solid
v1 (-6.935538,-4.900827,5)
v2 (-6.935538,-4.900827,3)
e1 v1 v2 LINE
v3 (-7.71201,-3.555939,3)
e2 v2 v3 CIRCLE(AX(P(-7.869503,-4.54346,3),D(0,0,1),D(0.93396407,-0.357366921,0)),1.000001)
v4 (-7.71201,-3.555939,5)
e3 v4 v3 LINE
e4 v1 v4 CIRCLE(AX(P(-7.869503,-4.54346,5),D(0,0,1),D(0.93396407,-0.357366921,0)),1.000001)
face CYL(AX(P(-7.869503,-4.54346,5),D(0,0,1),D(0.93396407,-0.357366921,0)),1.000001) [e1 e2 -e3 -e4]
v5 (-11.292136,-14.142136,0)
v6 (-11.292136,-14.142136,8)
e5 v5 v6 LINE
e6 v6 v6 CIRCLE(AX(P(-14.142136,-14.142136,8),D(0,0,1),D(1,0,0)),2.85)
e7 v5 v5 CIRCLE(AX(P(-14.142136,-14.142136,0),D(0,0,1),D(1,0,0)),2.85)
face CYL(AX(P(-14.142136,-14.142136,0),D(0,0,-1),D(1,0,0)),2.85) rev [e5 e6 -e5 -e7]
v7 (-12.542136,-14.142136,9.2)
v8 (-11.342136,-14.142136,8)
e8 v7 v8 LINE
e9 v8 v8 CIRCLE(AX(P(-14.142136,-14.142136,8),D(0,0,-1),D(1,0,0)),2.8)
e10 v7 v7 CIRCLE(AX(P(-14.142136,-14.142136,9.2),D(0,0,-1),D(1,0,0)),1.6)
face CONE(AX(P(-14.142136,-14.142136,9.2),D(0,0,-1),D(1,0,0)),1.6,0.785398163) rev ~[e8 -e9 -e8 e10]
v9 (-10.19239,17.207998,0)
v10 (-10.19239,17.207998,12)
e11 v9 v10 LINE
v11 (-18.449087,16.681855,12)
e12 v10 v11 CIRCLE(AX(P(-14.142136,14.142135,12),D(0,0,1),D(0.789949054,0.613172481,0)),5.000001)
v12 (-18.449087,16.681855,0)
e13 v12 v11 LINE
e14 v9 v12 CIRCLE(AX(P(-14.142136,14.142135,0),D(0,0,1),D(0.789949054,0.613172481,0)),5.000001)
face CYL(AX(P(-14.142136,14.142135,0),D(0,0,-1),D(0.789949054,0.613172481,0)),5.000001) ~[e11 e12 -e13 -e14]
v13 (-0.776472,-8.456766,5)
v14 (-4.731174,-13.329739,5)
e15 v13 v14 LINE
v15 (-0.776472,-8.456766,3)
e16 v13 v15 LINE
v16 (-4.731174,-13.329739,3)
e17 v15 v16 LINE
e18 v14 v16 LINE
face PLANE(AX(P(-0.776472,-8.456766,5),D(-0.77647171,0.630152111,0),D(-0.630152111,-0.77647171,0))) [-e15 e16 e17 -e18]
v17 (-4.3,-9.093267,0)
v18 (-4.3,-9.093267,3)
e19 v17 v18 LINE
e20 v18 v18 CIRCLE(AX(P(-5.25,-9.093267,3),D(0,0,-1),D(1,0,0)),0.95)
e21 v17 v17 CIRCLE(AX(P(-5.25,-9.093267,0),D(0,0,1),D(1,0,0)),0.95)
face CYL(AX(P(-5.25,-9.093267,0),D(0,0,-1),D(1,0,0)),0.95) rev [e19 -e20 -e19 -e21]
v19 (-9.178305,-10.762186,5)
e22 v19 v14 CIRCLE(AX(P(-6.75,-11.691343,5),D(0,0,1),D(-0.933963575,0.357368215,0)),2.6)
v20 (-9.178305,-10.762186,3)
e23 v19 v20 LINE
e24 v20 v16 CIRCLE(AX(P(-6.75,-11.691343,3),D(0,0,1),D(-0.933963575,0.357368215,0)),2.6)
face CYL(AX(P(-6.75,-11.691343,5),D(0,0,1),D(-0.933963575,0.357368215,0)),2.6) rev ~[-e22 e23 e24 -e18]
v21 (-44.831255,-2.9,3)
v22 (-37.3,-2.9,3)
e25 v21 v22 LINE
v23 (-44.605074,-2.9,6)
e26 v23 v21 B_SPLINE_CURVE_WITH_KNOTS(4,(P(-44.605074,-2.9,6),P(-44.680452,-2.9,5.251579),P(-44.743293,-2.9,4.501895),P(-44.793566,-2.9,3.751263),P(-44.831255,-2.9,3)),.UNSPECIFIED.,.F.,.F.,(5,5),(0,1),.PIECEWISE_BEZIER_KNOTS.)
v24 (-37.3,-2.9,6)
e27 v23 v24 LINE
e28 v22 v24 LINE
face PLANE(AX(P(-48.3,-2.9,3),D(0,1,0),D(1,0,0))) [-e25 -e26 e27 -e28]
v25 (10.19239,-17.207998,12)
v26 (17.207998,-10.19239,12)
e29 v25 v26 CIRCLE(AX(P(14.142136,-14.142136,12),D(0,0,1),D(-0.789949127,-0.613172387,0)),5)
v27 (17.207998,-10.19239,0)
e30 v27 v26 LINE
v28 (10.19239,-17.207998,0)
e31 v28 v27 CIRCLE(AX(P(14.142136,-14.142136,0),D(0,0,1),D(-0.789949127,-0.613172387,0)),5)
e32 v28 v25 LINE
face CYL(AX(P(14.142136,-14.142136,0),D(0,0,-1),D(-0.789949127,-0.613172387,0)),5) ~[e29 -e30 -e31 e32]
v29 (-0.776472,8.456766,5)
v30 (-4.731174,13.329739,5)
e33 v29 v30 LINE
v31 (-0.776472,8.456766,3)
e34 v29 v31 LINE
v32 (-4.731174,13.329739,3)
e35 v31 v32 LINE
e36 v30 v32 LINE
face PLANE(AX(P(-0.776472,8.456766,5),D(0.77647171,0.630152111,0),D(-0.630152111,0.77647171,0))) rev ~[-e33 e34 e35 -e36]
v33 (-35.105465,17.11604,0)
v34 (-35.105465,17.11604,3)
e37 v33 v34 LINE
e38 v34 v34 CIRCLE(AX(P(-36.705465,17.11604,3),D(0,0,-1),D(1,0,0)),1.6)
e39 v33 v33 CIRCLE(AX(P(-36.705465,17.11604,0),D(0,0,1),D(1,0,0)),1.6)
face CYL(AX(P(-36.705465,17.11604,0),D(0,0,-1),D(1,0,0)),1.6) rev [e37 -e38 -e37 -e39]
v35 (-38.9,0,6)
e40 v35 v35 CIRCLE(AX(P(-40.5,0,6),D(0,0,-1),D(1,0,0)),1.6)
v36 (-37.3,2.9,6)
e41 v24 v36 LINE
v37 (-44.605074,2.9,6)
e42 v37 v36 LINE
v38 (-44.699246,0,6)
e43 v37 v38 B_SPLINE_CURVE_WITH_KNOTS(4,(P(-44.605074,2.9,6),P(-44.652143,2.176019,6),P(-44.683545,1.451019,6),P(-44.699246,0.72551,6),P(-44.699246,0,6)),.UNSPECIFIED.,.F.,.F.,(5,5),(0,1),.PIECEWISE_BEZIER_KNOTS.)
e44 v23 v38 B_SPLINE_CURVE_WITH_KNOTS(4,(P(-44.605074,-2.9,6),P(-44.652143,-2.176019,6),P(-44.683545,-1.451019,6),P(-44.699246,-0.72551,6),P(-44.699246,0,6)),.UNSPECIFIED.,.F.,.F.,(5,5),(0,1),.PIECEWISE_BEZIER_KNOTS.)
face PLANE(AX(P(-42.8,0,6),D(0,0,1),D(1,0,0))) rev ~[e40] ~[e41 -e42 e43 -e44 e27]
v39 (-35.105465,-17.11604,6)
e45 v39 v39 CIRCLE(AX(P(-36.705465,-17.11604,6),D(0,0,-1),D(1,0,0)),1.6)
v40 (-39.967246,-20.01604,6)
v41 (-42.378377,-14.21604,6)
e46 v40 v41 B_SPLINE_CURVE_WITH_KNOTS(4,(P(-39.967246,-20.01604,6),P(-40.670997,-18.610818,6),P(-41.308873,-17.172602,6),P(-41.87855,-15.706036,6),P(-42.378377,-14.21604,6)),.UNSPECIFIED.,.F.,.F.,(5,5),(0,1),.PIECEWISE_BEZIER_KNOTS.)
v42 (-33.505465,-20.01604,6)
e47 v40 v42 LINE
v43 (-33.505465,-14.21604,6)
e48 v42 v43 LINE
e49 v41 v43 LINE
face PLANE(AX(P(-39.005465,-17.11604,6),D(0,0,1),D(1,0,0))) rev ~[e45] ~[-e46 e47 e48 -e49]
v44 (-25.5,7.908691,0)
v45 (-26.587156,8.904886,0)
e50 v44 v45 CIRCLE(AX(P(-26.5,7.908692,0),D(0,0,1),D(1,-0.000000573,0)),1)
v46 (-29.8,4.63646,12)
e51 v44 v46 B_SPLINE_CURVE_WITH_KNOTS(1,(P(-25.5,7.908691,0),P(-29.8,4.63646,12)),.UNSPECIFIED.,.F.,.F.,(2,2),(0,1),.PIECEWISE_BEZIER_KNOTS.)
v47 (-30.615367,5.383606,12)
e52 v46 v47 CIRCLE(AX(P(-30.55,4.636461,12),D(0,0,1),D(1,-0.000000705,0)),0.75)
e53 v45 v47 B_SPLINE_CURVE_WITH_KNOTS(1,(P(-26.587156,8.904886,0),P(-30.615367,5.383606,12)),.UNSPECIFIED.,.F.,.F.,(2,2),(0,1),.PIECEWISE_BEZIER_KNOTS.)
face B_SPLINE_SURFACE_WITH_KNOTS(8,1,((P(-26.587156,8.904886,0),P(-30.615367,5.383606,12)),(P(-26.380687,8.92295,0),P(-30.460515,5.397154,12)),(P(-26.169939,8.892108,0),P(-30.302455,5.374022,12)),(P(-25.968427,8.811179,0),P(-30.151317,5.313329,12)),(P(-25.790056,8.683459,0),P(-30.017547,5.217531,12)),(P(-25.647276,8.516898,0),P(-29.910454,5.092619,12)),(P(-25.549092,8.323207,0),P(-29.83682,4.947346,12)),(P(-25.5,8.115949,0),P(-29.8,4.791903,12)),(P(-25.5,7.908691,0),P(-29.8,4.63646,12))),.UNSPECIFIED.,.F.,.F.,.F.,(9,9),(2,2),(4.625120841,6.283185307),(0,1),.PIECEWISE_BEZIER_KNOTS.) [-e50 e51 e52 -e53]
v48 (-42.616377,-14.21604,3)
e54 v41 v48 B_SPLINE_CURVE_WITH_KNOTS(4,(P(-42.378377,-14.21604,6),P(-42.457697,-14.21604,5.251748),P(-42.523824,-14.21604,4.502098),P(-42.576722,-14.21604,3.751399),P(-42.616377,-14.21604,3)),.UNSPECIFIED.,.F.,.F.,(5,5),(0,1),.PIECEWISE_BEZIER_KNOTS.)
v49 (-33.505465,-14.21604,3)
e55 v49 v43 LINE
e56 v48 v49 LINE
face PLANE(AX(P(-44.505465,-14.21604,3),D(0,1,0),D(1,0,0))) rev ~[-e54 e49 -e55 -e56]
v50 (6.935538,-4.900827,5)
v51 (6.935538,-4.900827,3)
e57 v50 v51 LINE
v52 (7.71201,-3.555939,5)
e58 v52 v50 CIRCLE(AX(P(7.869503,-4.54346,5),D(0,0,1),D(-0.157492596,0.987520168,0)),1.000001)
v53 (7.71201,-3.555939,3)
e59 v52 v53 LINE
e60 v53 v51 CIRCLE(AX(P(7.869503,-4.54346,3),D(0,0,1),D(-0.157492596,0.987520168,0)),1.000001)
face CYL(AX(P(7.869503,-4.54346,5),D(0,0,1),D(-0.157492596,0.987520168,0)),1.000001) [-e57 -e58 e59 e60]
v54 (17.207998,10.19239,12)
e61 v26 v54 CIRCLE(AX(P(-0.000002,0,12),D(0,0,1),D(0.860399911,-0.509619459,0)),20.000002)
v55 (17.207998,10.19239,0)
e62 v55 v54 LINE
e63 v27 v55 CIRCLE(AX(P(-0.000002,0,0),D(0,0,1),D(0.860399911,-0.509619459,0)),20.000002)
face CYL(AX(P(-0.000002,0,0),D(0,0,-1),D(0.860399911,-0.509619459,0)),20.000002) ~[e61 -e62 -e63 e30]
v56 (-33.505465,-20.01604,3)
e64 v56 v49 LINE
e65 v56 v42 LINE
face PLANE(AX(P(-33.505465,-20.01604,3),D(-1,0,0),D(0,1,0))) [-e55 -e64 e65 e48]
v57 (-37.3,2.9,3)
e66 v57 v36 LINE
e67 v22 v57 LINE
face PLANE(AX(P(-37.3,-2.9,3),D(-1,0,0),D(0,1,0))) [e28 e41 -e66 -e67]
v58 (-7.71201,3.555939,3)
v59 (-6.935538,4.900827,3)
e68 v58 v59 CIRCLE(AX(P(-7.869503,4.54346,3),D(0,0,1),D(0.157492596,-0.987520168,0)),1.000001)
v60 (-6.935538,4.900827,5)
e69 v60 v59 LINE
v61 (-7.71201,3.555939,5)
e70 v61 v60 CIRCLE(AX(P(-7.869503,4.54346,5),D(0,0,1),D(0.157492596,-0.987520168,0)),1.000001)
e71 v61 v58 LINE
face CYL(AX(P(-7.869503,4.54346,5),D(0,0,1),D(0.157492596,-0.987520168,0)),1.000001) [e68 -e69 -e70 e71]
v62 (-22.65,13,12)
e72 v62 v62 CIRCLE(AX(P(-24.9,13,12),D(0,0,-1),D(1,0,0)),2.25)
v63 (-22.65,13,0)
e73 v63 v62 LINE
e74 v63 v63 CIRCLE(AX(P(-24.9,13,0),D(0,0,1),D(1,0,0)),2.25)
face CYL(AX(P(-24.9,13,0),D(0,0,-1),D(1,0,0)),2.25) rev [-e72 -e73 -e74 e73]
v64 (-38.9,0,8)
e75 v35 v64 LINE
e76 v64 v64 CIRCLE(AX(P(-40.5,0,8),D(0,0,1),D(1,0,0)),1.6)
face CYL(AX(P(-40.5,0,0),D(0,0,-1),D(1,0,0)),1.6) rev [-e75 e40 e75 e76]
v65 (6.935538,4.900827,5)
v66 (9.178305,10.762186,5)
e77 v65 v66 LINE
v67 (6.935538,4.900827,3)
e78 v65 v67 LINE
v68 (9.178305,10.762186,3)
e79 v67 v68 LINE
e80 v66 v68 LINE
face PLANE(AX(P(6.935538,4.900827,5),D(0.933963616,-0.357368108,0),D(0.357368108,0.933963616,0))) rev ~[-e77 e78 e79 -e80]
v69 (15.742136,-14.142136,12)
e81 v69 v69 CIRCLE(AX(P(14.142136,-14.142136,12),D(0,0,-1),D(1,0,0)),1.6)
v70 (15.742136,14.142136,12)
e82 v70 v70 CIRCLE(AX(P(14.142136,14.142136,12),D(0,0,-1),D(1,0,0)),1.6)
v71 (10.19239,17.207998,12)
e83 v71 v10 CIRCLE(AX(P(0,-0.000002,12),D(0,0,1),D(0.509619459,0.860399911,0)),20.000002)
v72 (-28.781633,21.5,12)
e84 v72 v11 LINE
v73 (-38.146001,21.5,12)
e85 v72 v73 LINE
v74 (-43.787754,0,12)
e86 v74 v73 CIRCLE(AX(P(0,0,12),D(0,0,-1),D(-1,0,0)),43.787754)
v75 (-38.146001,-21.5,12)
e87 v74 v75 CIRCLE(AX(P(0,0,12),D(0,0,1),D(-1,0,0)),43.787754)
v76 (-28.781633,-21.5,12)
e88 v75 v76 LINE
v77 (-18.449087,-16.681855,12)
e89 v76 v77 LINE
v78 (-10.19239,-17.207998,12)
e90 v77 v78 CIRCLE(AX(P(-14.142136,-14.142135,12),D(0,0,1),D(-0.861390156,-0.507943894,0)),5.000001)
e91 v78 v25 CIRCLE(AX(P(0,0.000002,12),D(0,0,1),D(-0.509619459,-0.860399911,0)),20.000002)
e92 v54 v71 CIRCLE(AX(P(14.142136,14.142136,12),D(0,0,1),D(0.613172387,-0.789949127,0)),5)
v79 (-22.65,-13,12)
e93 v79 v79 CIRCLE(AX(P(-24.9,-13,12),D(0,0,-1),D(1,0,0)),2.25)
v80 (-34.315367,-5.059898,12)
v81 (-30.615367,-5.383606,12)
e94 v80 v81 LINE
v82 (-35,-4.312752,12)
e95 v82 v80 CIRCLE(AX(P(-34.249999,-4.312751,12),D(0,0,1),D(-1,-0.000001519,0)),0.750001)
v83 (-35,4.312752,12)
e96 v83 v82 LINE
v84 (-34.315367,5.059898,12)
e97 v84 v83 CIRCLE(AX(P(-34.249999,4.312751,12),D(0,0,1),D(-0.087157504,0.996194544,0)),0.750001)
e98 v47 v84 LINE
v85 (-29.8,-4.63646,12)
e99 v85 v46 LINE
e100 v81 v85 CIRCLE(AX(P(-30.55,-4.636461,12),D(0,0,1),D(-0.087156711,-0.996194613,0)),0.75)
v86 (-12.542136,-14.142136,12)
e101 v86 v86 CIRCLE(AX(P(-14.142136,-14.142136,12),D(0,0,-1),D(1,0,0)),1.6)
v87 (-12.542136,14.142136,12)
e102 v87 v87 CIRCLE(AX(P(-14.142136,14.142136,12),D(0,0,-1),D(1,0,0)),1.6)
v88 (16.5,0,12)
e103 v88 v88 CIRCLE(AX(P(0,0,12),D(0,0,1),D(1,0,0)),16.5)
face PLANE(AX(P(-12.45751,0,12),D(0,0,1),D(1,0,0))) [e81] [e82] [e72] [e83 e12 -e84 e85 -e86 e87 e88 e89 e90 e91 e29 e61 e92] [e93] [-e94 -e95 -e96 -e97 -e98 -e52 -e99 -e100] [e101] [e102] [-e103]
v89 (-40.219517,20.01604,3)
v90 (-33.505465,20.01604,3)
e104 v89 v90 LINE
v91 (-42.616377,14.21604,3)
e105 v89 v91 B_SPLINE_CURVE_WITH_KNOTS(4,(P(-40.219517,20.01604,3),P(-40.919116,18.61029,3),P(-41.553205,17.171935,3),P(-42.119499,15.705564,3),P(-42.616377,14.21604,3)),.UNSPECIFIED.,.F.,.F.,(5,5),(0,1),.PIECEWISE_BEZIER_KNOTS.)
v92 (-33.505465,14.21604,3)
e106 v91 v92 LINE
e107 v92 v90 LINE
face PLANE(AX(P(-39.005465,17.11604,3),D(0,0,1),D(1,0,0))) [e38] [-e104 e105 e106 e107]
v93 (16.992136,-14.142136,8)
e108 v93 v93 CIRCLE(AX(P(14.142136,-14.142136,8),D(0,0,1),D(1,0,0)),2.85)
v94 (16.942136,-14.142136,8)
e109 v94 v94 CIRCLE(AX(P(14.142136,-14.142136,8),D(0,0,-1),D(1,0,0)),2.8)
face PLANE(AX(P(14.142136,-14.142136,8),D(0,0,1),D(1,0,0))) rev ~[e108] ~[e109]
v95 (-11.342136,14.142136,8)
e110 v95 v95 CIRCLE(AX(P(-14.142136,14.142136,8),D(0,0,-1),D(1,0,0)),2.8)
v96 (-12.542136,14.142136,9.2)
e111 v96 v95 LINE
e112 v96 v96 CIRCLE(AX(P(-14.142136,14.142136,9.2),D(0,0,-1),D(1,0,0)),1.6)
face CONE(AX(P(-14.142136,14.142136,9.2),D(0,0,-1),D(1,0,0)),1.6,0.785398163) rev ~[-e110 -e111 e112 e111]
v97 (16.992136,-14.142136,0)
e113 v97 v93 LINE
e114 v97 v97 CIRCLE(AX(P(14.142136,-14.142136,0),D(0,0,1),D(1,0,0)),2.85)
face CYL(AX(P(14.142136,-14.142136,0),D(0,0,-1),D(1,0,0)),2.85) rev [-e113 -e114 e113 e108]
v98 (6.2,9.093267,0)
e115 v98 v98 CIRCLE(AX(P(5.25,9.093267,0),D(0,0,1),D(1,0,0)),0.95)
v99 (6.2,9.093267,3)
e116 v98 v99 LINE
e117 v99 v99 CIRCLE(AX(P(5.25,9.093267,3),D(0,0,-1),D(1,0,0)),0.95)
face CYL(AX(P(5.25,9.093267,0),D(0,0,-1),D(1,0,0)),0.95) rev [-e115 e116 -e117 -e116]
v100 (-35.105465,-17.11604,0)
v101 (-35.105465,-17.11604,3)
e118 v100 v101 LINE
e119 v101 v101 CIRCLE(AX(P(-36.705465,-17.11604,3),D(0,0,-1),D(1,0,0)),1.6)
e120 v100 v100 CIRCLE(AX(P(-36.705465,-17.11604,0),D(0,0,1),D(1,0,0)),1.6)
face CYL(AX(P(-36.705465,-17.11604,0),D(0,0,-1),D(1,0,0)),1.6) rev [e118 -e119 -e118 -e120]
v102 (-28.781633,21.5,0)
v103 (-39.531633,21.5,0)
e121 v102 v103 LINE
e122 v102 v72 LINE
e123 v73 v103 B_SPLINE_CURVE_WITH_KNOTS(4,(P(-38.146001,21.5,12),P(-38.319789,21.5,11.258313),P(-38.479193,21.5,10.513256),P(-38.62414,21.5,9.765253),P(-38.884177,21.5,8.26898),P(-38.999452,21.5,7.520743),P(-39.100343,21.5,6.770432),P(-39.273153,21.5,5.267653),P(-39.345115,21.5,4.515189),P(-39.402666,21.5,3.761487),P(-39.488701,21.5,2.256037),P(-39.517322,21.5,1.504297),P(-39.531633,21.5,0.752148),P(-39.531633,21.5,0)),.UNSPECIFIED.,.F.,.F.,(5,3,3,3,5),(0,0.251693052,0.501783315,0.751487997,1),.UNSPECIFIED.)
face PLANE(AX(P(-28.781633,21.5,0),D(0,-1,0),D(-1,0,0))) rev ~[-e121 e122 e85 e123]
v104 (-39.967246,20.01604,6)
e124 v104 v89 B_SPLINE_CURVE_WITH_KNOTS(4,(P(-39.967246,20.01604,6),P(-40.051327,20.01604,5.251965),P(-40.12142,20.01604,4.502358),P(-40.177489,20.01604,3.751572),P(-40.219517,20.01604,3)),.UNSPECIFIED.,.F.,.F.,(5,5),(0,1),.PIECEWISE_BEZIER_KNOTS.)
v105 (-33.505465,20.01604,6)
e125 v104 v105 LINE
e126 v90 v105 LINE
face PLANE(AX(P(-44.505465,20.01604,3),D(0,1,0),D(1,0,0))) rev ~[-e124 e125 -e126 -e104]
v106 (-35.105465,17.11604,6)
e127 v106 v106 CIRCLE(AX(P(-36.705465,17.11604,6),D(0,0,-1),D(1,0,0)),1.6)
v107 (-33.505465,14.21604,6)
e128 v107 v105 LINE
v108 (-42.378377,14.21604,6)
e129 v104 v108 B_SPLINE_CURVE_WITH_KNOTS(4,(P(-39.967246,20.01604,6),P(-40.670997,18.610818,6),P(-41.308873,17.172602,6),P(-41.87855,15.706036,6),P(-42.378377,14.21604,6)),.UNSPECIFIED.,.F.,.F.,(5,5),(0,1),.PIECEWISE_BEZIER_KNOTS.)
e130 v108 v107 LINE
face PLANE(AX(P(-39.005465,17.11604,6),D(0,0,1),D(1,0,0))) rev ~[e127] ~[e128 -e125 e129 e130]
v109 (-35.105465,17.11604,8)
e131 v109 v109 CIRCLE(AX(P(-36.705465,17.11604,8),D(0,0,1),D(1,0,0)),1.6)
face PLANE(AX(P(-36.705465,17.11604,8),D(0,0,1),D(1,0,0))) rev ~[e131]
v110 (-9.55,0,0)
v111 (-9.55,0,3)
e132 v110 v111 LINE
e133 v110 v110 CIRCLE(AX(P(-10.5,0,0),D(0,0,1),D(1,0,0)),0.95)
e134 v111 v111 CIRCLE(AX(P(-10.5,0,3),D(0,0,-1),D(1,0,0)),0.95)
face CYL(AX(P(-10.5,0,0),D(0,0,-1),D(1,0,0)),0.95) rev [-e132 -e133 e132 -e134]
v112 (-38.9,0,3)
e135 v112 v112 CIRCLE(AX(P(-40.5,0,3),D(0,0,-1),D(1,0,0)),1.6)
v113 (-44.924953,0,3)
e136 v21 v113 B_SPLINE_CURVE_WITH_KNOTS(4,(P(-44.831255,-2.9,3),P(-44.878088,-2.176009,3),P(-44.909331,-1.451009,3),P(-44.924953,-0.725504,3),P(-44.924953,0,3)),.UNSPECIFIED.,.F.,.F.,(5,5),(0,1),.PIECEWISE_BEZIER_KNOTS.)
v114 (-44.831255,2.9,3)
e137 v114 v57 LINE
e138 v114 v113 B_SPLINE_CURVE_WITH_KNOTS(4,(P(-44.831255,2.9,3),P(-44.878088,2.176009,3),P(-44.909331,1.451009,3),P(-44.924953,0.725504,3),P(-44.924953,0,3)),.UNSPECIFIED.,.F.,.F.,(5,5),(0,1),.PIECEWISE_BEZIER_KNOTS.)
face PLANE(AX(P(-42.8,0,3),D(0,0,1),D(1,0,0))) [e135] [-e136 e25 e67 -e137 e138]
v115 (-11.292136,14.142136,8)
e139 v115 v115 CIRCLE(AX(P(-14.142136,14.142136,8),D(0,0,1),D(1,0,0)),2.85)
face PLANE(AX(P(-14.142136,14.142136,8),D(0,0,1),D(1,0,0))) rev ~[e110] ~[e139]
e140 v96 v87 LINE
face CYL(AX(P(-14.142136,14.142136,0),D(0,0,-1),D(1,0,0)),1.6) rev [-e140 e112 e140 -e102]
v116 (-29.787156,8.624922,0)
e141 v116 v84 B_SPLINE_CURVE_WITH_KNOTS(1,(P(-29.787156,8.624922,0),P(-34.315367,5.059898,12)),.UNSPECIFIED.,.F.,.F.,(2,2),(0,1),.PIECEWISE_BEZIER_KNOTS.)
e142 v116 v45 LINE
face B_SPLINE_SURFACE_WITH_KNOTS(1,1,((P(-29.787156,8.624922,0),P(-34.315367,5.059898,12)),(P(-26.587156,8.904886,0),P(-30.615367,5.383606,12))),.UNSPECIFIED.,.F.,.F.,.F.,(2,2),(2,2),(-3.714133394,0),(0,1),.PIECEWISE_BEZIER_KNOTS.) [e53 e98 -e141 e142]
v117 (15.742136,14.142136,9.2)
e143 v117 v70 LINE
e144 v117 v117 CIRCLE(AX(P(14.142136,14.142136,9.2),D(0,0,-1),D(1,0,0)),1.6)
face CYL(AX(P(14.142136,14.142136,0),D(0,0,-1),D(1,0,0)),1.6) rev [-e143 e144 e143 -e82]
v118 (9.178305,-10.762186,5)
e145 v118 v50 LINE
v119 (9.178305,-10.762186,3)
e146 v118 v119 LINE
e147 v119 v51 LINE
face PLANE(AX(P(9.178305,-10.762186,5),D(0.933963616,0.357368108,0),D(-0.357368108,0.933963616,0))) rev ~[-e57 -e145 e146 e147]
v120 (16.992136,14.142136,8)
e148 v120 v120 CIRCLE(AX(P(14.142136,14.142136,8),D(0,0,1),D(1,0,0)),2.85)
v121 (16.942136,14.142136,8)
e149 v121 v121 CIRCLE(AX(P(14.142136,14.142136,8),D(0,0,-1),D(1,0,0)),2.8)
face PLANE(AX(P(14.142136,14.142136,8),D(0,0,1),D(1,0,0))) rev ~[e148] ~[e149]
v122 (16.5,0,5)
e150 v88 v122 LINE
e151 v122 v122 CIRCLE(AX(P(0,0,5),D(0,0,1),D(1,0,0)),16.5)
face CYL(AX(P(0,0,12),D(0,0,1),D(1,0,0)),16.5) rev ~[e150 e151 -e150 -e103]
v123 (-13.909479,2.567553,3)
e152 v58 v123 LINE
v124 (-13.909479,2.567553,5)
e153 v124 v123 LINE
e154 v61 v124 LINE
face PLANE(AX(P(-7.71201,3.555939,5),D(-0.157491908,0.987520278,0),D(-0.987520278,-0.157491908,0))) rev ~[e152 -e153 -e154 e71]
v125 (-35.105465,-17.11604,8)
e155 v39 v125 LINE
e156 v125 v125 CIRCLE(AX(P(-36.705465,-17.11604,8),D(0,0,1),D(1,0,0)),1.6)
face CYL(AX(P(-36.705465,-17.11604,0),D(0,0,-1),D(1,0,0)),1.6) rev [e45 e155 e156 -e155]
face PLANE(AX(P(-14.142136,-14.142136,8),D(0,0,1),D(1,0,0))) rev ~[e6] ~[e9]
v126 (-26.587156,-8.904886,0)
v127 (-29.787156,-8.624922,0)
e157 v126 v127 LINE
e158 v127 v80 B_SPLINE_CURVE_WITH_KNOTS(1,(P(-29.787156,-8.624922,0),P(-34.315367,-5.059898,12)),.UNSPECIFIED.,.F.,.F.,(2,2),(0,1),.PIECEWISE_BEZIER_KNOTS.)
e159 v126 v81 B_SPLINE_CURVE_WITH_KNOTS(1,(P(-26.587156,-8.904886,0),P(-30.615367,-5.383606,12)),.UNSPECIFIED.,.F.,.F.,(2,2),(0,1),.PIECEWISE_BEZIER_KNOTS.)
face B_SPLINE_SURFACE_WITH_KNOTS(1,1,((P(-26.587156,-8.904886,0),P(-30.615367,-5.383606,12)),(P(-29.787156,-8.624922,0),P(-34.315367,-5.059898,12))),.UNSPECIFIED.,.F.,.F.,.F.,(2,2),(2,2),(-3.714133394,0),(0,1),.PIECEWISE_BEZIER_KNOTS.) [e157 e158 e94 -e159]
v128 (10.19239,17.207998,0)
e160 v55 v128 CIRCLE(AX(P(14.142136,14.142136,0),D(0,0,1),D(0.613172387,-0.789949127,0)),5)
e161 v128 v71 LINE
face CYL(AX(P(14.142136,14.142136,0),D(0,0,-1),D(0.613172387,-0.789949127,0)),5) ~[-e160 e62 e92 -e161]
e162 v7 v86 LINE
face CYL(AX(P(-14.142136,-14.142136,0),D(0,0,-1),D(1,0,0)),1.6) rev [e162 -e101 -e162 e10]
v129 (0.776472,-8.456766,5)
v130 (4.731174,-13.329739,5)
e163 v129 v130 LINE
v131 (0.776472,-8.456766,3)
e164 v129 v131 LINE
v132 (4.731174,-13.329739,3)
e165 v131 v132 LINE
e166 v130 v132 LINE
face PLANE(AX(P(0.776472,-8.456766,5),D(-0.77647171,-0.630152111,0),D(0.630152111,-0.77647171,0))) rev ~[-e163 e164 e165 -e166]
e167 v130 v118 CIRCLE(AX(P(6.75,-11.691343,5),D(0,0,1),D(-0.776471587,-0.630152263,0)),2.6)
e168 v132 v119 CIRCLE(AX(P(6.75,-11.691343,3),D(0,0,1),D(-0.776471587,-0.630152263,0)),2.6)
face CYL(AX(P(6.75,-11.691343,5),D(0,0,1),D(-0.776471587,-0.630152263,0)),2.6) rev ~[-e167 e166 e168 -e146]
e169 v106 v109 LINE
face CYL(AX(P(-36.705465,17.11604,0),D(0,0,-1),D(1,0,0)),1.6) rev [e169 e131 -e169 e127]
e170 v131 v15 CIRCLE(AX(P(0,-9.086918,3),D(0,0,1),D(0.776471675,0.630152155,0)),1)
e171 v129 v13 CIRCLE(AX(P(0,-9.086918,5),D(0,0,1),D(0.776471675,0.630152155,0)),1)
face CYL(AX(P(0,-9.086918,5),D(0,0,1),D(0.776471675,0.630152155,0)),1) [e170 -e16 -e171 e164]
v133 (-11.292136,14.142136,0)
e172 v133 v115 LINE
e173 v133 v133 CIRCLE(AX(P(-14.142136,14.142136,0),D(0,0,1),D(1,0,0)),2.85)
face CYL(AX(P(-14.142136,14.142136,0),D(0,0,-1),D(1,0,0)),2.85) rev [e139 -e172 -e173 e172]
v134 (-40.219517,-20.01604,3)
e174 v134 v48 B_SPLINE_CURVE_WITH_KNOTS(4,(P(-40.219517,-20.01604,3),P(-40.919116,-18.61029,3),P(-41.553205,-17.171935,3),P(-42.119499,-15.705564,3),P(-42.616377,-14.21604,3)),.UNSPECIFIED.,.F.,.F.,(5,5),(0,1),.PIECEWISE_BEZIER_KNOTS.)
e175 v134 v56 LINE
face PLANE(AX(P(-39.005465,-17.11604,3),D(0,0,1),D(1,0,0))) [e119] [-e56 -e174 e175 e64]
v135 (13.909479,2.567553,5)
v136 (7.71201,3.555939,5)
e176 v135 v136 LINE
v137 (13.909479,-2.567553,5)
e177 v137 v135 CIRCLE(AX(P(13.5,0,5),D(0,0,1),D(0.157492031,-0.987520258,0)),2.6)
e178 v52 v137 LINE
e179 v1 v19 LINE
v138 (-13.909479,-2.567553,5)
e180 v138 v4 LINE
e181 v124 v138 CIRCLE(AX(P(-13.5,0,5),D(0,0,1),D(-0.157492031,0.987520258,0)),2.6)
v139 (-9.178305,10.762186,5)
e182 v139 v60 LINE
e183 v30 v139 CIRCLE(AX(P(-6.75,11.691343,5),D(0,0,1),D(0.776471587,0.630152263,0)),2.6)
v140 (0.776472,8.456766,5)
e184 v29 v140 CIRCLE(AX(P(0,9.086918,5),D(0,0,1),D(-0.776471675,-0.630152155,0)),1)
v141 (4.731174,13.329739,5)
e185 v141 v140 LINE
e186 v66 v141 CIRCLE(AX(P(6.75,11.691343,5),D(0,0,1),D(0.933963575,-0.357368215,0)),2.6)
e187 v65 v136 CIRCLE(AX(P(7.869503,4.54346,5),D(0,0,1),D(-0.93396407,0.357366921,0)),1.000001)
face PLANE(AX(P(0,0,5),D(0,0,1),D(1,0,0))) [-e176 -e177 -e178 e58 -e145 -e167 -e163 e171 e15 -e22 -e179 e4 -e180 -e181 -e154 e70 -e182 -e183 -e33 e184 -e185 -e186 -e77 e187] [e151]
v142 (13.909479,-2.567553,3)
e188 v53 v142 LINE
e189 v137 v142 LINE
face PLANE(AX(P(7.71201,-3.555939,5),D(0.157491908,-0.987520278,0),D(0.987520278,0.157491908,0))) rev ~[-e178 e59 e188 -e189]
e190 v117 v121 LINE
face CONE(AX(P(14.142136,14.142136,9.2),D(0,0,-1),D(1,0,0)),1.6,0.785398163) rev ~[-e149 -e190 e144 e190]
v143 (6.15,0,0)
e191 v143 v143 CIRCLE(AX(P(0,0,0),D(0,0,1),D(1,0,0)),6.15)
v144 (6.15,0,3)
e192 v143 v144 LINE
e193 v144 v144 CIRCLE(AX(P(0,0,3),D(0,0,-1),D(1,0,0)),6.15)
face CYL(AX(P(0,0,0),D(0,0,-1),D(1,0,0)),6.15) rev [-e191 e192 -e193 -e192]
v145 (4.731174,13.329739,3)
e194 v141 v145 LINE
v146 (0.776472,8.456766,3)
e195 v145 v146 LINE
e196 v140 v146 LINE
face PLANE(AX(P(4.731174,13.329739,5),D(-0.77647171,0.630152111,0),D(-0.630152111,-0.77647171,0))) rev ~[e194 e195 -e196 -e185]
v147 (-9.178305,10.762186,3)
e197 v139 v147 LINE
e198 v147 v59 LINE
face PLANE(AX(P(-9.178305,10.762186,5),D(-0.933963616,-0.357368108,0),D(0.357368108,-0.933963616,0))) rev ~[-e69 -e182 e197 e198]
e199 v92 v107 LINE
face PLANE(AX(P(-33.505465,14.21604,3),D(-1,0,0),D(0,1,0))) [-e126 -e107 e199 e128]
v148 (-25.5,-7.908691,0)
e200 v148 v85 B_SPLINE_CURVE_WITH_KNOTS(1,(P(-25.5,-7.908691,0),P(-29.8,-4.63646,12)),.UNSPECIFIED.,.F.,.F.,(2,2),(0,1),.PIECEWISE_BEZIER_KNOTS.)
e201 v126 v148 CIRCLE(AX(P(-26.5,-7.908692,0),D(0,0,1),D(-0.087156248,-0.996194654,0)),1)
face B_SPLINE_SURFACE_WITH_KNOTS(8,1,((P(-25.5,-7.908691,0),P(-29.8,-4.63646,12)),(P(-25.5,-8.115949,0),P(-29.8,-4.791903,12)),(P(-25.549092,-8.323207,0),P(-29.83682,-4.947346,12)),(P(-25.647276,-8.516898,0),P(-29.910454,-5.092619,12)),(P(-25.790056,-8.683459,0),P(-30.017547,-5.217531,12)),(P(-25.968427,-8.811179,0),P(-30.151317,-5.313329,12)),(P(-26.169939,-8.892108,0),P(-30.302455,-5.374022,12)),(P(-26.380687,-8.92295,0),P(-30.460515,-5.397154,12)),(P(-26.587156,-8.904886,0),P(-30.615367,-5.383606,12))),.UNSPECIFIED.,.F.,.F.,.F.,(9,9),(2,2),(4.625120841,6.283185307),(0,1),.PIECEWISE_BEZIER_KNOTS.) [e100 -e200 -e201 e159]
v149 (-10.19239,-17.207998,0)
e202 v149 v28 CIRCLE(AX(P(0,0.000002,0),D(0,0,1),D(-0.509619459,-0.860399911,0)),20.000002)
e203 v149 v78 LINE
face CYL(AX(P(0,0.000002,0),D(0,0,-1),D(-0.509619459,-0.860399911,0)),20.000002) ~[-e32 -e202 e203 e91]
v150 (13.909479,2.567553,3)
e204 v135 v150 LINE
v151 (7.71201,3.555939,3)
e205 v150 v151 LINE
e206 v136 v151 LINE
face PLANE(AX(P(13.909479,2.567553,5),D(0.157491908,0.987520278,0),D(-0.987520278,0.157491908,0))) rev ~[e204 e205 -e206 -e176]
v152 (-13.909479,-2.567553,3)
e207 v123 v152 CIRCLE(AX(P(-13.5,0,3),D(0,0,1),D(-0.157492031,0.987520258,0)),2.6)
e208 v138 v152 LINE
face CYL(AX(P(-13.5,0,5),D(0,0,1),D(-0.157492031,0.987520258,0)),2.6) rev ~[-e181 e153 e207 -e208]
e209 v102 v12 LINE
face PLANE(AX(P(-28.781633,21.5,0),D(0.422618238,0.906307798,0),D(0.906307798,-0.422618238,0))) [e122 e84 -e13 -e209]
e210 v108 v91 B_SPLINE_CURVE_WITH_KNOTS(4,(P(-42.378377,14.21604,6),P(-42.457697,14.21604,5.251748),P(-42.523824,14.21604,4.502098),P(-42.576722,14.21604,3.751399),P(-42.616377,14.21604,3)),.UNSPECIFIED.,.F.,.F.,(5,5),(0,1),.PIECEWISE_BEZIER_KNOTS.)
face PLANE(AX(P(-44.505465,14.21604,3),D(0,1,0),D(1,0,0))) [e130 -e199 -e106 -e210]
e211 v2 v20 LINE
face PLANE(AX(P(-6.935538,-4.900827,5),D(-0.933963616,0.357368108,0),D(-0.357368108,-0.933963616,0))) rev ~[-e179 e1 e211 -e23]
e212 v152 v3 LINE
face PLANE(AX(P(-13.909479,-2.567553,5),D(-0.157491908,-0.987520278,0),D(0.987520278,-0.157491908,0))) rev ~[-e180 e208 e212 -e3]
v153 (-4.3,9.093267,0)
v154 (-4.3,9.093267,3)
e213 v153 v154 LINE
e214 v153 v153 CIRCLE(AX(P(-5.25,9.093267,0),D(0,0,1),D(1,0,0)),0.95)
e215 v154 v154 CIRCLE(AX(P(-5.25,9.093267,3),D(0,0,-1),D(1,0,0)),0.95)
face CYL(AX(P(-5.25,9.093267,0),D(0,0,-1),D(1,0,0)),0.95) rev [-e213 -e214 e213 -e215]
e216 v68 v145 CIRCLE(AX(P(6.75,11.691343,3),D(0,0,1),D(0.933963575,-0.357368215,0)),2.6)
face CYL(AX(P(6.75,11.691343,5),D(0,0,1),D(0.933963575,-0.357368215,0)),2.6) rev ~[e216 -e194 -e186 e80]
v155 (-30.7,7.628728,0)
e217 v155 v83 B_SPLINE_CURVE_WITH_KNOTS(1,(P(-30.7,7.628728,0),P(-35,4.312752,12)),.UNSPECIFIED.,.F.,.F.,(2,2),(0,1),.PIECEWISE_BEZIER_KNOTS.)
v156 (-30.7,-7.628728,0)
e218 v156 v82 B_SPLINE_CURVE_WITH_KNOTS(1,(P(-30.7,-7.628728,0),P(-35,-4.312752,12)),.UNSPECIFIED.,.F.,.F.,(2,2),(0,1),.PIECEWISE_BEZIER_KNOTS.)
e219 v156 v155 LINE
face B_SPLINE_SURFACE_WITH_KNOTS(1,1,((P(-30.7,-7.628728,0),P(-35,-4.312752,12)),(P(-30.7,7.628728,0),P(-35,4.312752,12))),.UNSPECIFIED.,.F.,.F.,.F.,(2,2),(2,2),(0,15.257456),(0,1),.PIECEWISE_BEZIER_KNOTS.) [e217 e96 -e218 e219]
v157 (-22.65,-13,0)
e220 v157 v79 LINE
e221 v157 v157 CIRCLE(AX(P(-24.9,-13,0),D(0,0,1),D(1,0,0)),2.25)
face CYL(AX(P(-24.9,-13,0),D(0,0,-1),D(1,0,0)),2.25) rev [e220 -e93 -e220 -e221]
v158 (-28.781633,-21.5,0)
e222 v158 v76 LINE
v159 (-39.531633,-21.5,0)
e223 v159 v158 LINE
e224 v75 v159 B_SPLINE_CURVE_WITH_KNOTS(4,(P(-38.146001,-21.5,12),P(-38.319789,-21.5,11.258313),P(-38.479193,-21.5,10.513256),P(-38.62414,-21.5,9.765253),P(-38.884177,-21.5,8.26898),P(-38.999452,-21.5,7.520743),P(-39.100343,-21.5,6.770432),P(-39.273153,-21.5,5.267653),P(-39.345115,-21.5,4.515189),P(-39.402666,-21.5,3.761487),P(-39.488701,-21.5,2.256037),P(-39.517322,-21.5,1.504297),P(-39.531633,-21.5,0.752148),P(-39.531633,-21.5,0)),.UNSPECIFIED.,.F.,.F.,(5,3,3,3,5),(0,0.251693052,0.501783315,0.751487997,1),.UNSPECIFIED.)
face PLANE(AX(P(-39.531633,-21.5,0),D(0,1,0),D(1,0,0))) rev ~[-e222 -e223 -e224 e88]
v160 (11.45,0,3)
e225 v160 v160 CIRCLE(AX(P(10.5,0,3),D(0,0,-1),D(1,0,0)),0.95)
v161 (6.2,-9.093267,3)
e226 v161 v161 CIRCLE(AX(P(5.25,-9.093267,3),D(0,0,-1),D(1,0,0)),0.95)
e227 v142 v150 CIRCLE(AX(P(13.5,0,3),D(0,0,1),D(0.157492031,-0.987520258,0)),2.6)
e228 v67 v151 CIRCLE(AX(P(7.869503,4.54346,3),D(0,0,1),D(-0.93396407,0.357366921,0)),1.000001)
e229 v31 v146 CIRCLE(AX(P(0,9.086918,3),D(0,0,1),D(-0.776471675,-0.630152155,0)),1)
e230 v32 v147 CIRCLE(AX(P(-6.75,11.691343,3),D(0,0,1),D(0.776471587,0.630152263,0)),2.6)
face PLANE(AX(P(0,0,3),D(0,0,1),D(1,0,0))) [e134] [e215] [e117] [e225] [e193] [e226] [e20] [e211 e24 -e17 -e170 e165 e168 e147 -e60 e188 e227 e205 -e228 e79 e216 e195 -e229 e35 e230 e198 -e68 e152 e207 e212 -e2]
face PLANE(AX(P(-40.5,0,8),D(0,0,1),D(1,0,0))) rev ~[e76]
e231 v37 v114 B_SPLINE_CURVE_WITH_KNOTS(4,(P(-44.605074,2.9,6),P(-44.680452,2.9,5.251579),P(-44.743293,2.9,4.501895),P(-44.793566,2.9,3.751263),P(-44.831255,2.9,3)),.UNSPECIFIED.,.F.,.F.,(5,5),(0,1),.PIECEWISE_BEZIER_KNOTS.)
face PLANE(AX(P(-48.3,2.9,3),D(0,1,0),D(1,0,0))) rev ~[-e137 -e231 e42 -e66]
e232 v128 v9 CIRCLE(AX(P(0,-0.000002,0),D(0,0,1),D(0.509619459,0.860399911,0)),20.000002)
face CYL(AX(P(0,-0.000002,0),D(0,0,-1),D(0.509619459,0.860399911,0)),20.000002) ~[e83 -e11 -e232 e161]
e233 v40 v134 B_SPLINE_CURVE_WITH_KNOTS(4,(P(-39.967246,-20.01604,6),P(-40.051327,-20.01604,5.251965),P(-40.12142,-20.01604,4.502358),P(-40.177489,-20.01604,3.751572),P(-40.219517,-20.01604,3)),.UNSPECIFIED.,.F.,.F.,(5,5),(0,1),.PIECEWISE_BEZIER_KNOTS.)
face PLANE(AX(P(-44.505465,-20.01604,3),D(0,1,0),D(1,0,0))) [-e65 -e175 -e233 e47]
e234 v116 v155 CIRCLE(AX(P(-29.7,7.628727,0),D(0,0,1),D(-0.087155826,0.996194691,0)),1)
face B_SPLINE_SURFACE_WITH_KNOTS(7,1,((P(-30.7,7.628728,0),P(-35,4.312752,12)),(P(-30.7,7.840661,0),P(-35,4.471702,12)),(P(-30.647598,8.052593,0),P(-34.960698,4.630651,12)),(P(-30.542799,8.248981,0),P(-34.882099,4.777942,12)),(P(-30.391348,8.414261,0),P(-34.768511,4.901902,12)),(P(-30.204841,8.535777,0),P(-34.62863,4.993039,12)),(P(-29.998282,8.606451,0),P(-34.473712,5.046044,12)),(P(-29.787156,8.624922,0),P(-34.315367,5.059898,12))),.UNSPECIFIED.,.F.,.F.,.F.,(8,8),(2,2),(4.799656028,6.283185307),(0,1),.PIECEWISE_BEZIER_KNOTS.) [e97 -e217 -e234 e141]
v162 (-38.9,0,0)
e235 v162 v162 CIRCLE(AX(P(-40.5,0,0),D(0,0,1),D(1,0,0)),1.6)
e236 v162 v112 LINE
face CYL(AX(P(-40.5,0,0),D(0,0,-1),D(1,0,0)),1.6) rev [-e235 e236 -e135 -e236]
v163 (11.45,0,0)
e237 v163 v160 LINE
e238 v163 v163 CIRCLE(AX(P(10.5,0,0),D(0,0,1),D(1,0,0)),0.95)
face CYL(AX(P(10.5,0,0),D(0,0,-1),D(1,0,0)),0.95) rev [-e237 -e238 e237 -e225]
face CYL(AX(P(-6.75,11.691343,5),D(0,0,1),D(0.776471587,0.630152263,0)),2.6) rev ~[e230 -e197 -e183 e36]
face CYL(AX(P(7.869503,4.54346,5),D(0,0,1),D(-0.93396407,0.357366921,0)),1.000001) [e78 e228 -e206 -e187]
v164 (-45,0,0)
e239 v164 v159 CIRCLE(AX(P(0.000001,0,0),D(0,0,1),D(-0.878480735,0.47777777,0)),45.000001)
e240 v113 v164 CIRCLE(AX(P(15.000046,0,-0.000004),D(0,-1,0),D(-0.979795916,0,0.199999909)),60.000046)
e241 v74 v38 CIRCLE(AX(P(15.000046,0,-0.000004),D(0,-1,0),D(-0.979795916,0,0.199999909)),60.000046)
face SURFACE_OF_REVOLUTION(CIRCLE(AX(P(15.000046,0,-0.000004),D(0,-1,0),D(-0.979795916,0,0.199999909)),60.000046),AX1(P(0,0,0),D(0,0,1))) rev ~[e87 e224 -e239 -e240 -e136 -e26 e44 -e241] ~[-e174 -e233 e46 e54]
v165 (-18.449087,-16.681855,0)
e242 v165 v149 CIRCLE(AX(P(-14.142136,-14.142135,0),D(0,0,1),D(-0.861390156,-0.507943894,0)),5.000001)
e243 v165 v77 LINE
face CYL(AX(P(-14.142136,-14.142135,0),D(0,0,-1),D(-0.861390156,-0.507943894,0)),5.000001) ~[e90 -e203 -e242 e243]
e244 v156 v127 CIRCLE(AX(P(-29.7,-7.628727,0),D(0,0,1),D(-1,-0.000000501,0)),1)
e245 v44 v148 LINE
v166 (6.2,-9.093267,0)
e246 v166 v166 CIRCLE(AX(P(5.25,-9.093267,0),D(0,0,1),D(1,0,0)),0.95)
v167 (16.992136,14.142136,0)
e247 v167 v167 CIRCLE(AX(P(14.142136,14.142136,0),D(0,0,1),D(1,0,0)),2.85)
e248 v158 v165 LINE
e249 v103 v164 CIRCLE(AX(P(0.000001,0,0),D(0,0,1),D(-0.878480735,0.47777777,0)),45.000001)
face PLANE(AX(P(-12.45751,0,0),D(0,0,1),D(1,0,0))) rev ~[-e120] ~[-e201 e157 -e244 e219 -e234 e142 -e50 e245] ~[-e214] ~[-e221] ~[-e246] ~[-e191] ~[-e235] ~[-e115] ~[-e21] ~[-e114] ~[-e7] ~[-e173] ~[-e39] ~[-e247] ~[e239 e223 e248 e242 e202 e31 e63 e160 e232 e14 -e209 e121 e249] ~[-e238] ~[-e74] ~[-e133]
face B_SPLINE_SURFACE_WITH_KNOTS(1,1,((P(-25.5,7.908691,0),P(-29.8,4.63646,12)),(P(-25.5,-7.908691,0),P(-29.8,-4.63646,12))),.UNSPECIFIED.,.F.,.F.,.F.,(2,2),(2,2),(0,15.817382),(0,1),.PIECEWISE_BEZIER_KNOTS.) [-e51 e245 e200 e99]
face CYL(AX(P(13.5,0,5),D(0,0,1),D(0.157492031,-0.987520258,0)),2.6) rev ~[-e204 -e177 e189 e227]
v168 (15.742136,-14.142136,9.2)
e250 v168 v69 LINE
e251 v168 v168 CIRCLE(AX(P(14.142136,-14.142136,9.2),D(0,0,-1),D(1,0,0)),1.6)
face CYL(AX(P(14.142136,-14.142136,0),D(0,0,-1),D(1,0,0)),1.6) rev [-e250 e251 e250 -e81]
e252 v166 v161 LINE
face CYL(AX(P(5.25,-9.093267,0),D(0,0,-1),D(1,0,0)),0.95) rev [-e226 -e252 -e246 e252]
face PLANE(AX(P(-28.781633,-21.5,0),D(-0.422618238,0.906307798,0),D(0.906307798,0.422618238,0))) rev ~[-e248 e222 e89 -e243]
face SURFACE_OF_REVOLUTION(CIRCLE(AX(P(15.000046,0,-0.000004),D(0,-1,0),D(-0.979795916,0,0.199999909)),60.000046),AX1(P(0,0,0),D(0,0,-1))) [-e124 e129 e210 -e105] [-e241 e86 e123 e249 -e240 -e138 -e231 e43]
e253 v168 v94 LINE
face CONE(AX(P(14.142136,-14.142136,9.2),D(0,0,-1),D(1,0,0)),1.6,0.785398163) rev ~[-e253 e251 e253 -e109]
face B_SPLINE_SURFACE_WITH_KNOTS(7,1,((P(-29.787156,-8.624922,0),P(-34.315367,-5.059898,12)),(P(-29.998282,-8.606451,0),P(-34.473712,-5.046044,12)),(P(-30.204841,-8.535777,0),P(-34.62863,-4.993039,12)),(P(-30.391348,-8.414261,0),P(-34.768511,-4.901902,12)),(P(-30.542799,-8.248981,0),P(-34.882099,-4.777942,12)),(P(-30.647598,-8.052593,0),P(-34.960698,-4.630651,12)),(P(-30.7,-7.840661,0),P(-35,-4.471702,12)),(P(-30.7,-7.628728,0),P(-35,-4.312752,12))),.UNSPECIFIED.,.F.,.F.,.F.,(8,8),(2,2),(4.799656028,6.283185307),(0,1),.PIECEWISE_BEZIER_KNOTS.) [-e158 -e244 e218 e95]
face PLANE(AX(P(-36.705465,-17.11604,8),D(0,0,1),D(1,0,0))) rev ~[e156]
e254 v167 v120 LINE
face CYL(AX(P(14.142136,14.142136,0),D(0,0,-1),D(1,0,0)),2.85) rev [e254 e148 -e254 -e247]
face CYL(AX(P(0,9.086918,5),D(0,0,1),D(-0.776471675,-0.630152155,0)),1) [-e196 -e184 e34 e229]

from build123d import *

# Parameters (mm, degrees)
PAD_DEPTH       = 12
SKETCH001_R     = 1.6
POCKET_DEPTH    = 12.001
SKETCH006_R     = 2.85
POCKET005_DEPTH = 8
SKETCH002_R     = 16.5
POCKET001_DEPTH = 7
SKETCH003_R     = 6.15
POCKET002_DEPTH = 12.001
POCKET003_DEPTH = 2
SKETCH005_R     = 0.95
POCKET004_DEPTH = 12.001
SKETCH007_R     = 2.25
POCKET006_DEPTH = 12.001
SKETCH008_R     = 1.6
POCKET007_DEPTH = 8
SKETCH009_W     = 11
SKETCH009_H     = 5.8
POCKET008_DEPTH = 3
GROOVE_ANGLE    = 90
CHAMFER_1_ANGLE = 45
CHAMFER_1_SIZE  = 1.2
CHAMFER_2_ANGLE = 45
CHAMFER_2_SIZE  = 1.2
CHAMFER_3_ANGLE = 45
CHAMFER_3_SIZE  = 1.2
CHAMFER_4_ANGLE = 45
CHAMFER_4_SIZE  = 1.2


with BuildPart() as part:
    # Sketch → Pad (new body)
    with BuildSketch(Plane.XY):
        with BuildLine():
            ThreePointArc((10.19239, 17.207998), (0, 20), (-10.19239, 17.207998))
            ThreePointArc((-10.19239, 17.207998), (-14.460107, 19.132015), (-18.449087, 16.681855))
            Line((-28.781633, 21.5), (-18.449087, 16.681855))
            Line((-28.781633, 21.5), (-39.531633, 21.5))
            ThreePointArc((-39.531633, 21.5), (-45, 0), (-39.531633, -21.5))
            Line((-39.531633, -21.5), (-28.781633, -21.5))
            Line((-28.781633, -21.5), (-18.449087, -16.681855))
            ThreePointArc((-18.449087, -16.681855), (-14.460107, -19.132015), (-10.19239, -17.207998))
            ThreePointArc((-10.19239, -17.207998), (0, -20), (10.19239, -17.207998))
            ThreePointArc((10.19239, -17.207998), (17.67767, -17.67767), (17.207998, -10.19239))
            ThreePointArc((17.207998, -10.19239), (20, 0), (17.207998, 10.19239))
            ThreePointArc((17.207998, 10.19239), (17.67767, 17.67767), (10.19239, 17.207998))
        make_face()
    extrude(amount=PAD_DEPTH)

    # Sketch001 → Pocket (cut, through all)
    with BuildSketch(Plane.XY):
        with Locations((-14.142136, 14.142136)):
            Circle(SKETCH001_R)
        with Locations((14.142136, 14.142136)):
            Circle(SKETCH001_R)
        with Locations((14.142136, -14.142136)):
            Circle(SKETCH001_R)
        with Locations((-14.142136, -14.142136)):
            Circle(SKETCH001_R)
    extrude(amount=POCKET_DEPTH, mode=Mode.SUBTRACT)

    # Sketch006 → Pocket005 (cut)
    with BuildSketch(Plane.XY):
        with Locations((-14.142136, 14.142136)):
            Circle(SKETCH006_R)
        with Locations((14.142136, 14.142136)):
            Circle(SKETCH006_R)
        with Locations((14.142136, -14.142136)):
            Circle(SKETCH006_R)
        with Locations((-14.142136, -14.142136)):
            Circle(SKETCH006_R)
    extrude(amount=POCKET005_DEPTH, mode=Mode.SUBTRACT)

    # Sketch002 → Pocket001 (cut)
    with BuildSketch(Plane.XY.offset(12)):
        Circle(SKETCH002_R)
    extrude(amount=-POCKET001_DEPTH, mode=Mode.SUBTRACT)

    # Sketch003 → Pocket002 (cut, through all)
    with BuildSketch(Plane.XY):
        Circle(SKETCH003_R)
    extrude(amount=POCKET002_DEPTH, mode=Mode.SUBTRACT)

    # Sketch004 → Pocket003 (cut)
    with BuildSketch(Plane.XY.offset(5)):
        with BuildLine():
            ThreePointArc((9.178305, 10.762186), (8.05, 13.943009), (4.731174, 13.329739))
            Line((4.731174, 13.329739), (0.776472, 8.456766))
            ThreePointArc((-0.776472, 8.456766), (0, 8.086918), (0.776472, 8.456766))
            Line((-0.776472, 8.456766), (-4.731174, 13.329739))
            ThreePointArc((-4.731174, 13.329739), (-8.05, 13.943009), (-9.178305, 10.762186))
            Line((-9.178305, 10.762186), (-6.935538, 4.900827))
            ThreePointArc((-7.71201, 3.555939), (-7.003477, 4.043459), (-6.935538, 4.900827))
            Line((-7.71201, 3.555939), (-13.909479, 2.567553))
            ThreePointArc((-13.909479, 2.567553), (-16.1, 0), (-13.909479, -2.567553))
            Line((-13.909479, -2.567553), (-7.71201, -3.555939))
            ThreePointArc((-6.935538, -4.900827), (-7.003477, -4.043459), (-7.71201, -3.555939))
            Line((-6.935538, -4.900827), (-9.178305, -10.762186))
            ThreePointArc((-9.178305, -10.762186), (-8.05, -13.943009), (-4.731174, -13.329739))
            Line((-0.776472, -8.456766), (-4.731174, -13.329739))
            ThreePointArc((0.776472, -8.456766), (0, -8.086918), (-0.776472, -8.456766))
            Line((0.776472, -8.456766), (4.731174, -13.329739))
            ThreePointArc((4.731174, -13.329739), (8.05, -13.943009), (9.178305, -10.762186))
            Line((9.178305, -10.762186), (6.935538, -4.900827))
            ThreePointArc((7.71201, -3.555939), (7.003477, -4.043459), (6.935538, -4.900827))
            Line((7.71201, -3.555939), (13.909479, -2.567553))
            ThreePointArc((13.909479, -2.567553), (16.1, 0), (13.909479, 2.567553))
            Line((13.909479, 2.567553), (7.71201, 3.555939))
            ThreePointArc((6.935538, 4.900827), (7.003477, 4.043459), (7.71201, 3.555939))
            Line((6.935538, 4.900827), (9.178305, 10.762186))
        make_face()
    extrude(amount=-POCKET003_DEPTH, mode=Mode.SUBTRACT)

    # Sketch005 → Pocket004 (cut, through all)
    with BuildSketch(Plane.XY):
        with Locations((5.25, 9.093267)):
            Circle(SKETCH005_R)
        with Locations((10.5, 0)):
            Circle(SKETCH005_R)
        with Locations((-5.25, 9.093267)):
            Circle(SKETCH005_R)
        with Locations((-10.5, 0)):
            Circle(SKETCH005_R)
        with Locations((-5.25, -9.093267)):
            Circle(SKETCH005_R)
        with Locations((5.25, -9.093267)):
            Circle(SKETCH005_R)
    extrude(amount=POCKET004_DEPTH, mode=Mode.SUBTRACT)

    # Sketch007 → Pocket006 (cut, through all)
    with BuildSketch(Plane.XY):
        with Locations((-24.9, 13)):
            Circle(SKETCH007_R)
        with Locations((-24.9, -13)):
            Circle(SKETCH007_R)
    extrude(amount=POCKET006_DEPTH, mode=Mode.SUBTRACT)

    # Sketch008 → Pocket007 (cut)
    with BuildSketch(Plane.XY):
        with Locations((-40.5, 0)):
            Circle(SKETCH008_R)
        with Locations((-36.705465, 17.11604)):
            Circle(SKETCH008_R)
        with Locations((-36.705465, -17.11604)):
            Circle(SKETCH008_R)
    extrude(amount=POCKET007_DEPTH, mode=Mode.SUBTRACT)

    # Sketch009 → Pocket008 (cut)
    with BuildSketch(Plane.XY.offset(3)):
        with Locations((-42.8, 0)):
            Rectangle(SKETCH009_W, SKETCH009_H)
        with Locations((-39.005465, 17.11604)):
            Rectangle(SKETCH009_W, SKETCH009_H)
        with Locations((-39.005465, -17.11604)):
            Rectangle(SKETCH009_W, SKETCH009_H)
    extrude(amount=POCKET008_DEPTH, mode=Mode.SUBTRACT)

    # Sketch010 → SubtractiveLoft section 0
    with BuildSketch(Plane.XY):
        with BuildLine():
            Line((-30.7, -7.628728), (-30.7, 7.628728))
            ThreePointArc((-29.787156, 8.624922), (-30.437277, 8.304318), (-30.7, 7.628728))
            Line((-29.787156, 8.624922), (-26.587156, 8.904886))
            ThreePointArc((-25.5, 7.908691), (-25.82441, 8.645969), (-26.587156, 8.904886))
            Line((-25.5, 7.908691), (-25.5, -7.908691))
            ThreePointArc((-26.587156, -8.904886), (-25.82441, -8.645969), (-25.5, -7.908691))
            Line((-26.587156, -8.904886), (-29.787156, -8.624922))
            ThreePointArc((-30.7, -7.628728), (-30.437277, -8.304318), (-29.787156, -8.624922))
        make_face()
    # Sketch011 → SubtractiveLoft section 1
    with BuildSketch(Plane.XY.offset(12)):
        with BuildLine():
            Line((-35, 4.312752), (-35, -4.312752))
            ThreePointArc((-35, -4.312752), (-34.802958, -4.819444), (-34.315367, -5.059898))
            Line((-34.315367, -5.059898), (-30.615367, -5.383606))
            ThreePointArc((-30.615367, -5.383606), (-30.043307, -5.189418), (-29.8, -4.63646))
            Line((-29.8, -4.63646), (-29.8, 4.63646))
            ThreePointArc((-29.8, 4.63646), (-30.043307, 5.189418), (-30.615367, 5.383606))
            Line((-30.615367, 5.383606), (-34.315367, 5.059898))
            ThreePointArc((-34.315367, 5.059898), (-34.802958, 4.819444), (-35, 4.312752))
        make_face()
    loft(mode=Mode.SUBTRACT)

    # Sketch012 → Groove (revolve, symmetric, cut)
    with BuildSketch(Plane.XZ) as groove_sk:
        with BuildLine():
            Line((-45, 0), (-45, 12))
            Line((-45, 12), (-43.787754, 12))
            ThreePointArc((-43.787754, 12), (-44.696169, 6.030538), (-45, 0))
        make_face()
    revolve(axis=Axis((0, 0, 0), (0, 0, 1)), revolution_arc=GROOVE_ANGLE / 2, mode=Mode.SUBTRACT)
    revolve(groove_sk.sketch, axis=Axis((0, 0, 0), (0, 0, -1)), revolution_arc=GROOVE_ANGLE / 2, mode=Mode.SUBTRACT)

    # Chamfer 1
    chamfer_1_edges = [part.edges().sort_by_distance(p)[0] for p in [
        (-15.742136, 14.142136, 8),
    ]]
    chamfer_1_side = part.faces().sort_by_distance((-15.742136, 14.142136, 10))[0]
    chamfer(chamfer_1_edges, length=CHAMFER_1_SIZE, angle=CHAMFER_1_ANGLE, reference=chamfer_1_side)

    # Chamfer 2
    chamfer_2_edges = [part.edges().sort_by_distance(p)[0] for p in [
        (12.542136, 14.142136, 8),
    ]]
    chamfer_2_side = part.faces().sort_by_distance((12.542136, 14.142136, 10))[0]
    chamfer(chamfer_2_edges, length=CHAMFER_2_SIZE, angle=CHAMFER_2_ANGLE, reference=chamfer_2_side)

    # Chamfer 3
    chamfer_3_edges = [part.edges().sort_by_distance(p)[0] for p in [
        (12.542136, -14.142136, 8),
    ]]
    chamfer_3_side = part.faces().sort_by_distance((12.542136, -14.142136, 10))[0]
    chamfer(chamfer_3_edges, length=CHAMFER_3_SIZE, angle=CHAMFER_3_ANGLE, reference=chamfer_3_side)

    # Chamfer 4
    chamfer_4_edges = [part.edges().sort_by_distance(p)[0] for p in [
        (-15.742136, -14.142136, 8),
    ]]
    chamfer_4_side = part.faces().sort_by_distance((-15.742136, -14.142136, 10))[0]
    chamfer(chamfer_4_edges, length=CHAMFER_4_SIZE, angle=CHAMFER_4_ANGLE, reference=chamfer_4_side)


solid = part.part
